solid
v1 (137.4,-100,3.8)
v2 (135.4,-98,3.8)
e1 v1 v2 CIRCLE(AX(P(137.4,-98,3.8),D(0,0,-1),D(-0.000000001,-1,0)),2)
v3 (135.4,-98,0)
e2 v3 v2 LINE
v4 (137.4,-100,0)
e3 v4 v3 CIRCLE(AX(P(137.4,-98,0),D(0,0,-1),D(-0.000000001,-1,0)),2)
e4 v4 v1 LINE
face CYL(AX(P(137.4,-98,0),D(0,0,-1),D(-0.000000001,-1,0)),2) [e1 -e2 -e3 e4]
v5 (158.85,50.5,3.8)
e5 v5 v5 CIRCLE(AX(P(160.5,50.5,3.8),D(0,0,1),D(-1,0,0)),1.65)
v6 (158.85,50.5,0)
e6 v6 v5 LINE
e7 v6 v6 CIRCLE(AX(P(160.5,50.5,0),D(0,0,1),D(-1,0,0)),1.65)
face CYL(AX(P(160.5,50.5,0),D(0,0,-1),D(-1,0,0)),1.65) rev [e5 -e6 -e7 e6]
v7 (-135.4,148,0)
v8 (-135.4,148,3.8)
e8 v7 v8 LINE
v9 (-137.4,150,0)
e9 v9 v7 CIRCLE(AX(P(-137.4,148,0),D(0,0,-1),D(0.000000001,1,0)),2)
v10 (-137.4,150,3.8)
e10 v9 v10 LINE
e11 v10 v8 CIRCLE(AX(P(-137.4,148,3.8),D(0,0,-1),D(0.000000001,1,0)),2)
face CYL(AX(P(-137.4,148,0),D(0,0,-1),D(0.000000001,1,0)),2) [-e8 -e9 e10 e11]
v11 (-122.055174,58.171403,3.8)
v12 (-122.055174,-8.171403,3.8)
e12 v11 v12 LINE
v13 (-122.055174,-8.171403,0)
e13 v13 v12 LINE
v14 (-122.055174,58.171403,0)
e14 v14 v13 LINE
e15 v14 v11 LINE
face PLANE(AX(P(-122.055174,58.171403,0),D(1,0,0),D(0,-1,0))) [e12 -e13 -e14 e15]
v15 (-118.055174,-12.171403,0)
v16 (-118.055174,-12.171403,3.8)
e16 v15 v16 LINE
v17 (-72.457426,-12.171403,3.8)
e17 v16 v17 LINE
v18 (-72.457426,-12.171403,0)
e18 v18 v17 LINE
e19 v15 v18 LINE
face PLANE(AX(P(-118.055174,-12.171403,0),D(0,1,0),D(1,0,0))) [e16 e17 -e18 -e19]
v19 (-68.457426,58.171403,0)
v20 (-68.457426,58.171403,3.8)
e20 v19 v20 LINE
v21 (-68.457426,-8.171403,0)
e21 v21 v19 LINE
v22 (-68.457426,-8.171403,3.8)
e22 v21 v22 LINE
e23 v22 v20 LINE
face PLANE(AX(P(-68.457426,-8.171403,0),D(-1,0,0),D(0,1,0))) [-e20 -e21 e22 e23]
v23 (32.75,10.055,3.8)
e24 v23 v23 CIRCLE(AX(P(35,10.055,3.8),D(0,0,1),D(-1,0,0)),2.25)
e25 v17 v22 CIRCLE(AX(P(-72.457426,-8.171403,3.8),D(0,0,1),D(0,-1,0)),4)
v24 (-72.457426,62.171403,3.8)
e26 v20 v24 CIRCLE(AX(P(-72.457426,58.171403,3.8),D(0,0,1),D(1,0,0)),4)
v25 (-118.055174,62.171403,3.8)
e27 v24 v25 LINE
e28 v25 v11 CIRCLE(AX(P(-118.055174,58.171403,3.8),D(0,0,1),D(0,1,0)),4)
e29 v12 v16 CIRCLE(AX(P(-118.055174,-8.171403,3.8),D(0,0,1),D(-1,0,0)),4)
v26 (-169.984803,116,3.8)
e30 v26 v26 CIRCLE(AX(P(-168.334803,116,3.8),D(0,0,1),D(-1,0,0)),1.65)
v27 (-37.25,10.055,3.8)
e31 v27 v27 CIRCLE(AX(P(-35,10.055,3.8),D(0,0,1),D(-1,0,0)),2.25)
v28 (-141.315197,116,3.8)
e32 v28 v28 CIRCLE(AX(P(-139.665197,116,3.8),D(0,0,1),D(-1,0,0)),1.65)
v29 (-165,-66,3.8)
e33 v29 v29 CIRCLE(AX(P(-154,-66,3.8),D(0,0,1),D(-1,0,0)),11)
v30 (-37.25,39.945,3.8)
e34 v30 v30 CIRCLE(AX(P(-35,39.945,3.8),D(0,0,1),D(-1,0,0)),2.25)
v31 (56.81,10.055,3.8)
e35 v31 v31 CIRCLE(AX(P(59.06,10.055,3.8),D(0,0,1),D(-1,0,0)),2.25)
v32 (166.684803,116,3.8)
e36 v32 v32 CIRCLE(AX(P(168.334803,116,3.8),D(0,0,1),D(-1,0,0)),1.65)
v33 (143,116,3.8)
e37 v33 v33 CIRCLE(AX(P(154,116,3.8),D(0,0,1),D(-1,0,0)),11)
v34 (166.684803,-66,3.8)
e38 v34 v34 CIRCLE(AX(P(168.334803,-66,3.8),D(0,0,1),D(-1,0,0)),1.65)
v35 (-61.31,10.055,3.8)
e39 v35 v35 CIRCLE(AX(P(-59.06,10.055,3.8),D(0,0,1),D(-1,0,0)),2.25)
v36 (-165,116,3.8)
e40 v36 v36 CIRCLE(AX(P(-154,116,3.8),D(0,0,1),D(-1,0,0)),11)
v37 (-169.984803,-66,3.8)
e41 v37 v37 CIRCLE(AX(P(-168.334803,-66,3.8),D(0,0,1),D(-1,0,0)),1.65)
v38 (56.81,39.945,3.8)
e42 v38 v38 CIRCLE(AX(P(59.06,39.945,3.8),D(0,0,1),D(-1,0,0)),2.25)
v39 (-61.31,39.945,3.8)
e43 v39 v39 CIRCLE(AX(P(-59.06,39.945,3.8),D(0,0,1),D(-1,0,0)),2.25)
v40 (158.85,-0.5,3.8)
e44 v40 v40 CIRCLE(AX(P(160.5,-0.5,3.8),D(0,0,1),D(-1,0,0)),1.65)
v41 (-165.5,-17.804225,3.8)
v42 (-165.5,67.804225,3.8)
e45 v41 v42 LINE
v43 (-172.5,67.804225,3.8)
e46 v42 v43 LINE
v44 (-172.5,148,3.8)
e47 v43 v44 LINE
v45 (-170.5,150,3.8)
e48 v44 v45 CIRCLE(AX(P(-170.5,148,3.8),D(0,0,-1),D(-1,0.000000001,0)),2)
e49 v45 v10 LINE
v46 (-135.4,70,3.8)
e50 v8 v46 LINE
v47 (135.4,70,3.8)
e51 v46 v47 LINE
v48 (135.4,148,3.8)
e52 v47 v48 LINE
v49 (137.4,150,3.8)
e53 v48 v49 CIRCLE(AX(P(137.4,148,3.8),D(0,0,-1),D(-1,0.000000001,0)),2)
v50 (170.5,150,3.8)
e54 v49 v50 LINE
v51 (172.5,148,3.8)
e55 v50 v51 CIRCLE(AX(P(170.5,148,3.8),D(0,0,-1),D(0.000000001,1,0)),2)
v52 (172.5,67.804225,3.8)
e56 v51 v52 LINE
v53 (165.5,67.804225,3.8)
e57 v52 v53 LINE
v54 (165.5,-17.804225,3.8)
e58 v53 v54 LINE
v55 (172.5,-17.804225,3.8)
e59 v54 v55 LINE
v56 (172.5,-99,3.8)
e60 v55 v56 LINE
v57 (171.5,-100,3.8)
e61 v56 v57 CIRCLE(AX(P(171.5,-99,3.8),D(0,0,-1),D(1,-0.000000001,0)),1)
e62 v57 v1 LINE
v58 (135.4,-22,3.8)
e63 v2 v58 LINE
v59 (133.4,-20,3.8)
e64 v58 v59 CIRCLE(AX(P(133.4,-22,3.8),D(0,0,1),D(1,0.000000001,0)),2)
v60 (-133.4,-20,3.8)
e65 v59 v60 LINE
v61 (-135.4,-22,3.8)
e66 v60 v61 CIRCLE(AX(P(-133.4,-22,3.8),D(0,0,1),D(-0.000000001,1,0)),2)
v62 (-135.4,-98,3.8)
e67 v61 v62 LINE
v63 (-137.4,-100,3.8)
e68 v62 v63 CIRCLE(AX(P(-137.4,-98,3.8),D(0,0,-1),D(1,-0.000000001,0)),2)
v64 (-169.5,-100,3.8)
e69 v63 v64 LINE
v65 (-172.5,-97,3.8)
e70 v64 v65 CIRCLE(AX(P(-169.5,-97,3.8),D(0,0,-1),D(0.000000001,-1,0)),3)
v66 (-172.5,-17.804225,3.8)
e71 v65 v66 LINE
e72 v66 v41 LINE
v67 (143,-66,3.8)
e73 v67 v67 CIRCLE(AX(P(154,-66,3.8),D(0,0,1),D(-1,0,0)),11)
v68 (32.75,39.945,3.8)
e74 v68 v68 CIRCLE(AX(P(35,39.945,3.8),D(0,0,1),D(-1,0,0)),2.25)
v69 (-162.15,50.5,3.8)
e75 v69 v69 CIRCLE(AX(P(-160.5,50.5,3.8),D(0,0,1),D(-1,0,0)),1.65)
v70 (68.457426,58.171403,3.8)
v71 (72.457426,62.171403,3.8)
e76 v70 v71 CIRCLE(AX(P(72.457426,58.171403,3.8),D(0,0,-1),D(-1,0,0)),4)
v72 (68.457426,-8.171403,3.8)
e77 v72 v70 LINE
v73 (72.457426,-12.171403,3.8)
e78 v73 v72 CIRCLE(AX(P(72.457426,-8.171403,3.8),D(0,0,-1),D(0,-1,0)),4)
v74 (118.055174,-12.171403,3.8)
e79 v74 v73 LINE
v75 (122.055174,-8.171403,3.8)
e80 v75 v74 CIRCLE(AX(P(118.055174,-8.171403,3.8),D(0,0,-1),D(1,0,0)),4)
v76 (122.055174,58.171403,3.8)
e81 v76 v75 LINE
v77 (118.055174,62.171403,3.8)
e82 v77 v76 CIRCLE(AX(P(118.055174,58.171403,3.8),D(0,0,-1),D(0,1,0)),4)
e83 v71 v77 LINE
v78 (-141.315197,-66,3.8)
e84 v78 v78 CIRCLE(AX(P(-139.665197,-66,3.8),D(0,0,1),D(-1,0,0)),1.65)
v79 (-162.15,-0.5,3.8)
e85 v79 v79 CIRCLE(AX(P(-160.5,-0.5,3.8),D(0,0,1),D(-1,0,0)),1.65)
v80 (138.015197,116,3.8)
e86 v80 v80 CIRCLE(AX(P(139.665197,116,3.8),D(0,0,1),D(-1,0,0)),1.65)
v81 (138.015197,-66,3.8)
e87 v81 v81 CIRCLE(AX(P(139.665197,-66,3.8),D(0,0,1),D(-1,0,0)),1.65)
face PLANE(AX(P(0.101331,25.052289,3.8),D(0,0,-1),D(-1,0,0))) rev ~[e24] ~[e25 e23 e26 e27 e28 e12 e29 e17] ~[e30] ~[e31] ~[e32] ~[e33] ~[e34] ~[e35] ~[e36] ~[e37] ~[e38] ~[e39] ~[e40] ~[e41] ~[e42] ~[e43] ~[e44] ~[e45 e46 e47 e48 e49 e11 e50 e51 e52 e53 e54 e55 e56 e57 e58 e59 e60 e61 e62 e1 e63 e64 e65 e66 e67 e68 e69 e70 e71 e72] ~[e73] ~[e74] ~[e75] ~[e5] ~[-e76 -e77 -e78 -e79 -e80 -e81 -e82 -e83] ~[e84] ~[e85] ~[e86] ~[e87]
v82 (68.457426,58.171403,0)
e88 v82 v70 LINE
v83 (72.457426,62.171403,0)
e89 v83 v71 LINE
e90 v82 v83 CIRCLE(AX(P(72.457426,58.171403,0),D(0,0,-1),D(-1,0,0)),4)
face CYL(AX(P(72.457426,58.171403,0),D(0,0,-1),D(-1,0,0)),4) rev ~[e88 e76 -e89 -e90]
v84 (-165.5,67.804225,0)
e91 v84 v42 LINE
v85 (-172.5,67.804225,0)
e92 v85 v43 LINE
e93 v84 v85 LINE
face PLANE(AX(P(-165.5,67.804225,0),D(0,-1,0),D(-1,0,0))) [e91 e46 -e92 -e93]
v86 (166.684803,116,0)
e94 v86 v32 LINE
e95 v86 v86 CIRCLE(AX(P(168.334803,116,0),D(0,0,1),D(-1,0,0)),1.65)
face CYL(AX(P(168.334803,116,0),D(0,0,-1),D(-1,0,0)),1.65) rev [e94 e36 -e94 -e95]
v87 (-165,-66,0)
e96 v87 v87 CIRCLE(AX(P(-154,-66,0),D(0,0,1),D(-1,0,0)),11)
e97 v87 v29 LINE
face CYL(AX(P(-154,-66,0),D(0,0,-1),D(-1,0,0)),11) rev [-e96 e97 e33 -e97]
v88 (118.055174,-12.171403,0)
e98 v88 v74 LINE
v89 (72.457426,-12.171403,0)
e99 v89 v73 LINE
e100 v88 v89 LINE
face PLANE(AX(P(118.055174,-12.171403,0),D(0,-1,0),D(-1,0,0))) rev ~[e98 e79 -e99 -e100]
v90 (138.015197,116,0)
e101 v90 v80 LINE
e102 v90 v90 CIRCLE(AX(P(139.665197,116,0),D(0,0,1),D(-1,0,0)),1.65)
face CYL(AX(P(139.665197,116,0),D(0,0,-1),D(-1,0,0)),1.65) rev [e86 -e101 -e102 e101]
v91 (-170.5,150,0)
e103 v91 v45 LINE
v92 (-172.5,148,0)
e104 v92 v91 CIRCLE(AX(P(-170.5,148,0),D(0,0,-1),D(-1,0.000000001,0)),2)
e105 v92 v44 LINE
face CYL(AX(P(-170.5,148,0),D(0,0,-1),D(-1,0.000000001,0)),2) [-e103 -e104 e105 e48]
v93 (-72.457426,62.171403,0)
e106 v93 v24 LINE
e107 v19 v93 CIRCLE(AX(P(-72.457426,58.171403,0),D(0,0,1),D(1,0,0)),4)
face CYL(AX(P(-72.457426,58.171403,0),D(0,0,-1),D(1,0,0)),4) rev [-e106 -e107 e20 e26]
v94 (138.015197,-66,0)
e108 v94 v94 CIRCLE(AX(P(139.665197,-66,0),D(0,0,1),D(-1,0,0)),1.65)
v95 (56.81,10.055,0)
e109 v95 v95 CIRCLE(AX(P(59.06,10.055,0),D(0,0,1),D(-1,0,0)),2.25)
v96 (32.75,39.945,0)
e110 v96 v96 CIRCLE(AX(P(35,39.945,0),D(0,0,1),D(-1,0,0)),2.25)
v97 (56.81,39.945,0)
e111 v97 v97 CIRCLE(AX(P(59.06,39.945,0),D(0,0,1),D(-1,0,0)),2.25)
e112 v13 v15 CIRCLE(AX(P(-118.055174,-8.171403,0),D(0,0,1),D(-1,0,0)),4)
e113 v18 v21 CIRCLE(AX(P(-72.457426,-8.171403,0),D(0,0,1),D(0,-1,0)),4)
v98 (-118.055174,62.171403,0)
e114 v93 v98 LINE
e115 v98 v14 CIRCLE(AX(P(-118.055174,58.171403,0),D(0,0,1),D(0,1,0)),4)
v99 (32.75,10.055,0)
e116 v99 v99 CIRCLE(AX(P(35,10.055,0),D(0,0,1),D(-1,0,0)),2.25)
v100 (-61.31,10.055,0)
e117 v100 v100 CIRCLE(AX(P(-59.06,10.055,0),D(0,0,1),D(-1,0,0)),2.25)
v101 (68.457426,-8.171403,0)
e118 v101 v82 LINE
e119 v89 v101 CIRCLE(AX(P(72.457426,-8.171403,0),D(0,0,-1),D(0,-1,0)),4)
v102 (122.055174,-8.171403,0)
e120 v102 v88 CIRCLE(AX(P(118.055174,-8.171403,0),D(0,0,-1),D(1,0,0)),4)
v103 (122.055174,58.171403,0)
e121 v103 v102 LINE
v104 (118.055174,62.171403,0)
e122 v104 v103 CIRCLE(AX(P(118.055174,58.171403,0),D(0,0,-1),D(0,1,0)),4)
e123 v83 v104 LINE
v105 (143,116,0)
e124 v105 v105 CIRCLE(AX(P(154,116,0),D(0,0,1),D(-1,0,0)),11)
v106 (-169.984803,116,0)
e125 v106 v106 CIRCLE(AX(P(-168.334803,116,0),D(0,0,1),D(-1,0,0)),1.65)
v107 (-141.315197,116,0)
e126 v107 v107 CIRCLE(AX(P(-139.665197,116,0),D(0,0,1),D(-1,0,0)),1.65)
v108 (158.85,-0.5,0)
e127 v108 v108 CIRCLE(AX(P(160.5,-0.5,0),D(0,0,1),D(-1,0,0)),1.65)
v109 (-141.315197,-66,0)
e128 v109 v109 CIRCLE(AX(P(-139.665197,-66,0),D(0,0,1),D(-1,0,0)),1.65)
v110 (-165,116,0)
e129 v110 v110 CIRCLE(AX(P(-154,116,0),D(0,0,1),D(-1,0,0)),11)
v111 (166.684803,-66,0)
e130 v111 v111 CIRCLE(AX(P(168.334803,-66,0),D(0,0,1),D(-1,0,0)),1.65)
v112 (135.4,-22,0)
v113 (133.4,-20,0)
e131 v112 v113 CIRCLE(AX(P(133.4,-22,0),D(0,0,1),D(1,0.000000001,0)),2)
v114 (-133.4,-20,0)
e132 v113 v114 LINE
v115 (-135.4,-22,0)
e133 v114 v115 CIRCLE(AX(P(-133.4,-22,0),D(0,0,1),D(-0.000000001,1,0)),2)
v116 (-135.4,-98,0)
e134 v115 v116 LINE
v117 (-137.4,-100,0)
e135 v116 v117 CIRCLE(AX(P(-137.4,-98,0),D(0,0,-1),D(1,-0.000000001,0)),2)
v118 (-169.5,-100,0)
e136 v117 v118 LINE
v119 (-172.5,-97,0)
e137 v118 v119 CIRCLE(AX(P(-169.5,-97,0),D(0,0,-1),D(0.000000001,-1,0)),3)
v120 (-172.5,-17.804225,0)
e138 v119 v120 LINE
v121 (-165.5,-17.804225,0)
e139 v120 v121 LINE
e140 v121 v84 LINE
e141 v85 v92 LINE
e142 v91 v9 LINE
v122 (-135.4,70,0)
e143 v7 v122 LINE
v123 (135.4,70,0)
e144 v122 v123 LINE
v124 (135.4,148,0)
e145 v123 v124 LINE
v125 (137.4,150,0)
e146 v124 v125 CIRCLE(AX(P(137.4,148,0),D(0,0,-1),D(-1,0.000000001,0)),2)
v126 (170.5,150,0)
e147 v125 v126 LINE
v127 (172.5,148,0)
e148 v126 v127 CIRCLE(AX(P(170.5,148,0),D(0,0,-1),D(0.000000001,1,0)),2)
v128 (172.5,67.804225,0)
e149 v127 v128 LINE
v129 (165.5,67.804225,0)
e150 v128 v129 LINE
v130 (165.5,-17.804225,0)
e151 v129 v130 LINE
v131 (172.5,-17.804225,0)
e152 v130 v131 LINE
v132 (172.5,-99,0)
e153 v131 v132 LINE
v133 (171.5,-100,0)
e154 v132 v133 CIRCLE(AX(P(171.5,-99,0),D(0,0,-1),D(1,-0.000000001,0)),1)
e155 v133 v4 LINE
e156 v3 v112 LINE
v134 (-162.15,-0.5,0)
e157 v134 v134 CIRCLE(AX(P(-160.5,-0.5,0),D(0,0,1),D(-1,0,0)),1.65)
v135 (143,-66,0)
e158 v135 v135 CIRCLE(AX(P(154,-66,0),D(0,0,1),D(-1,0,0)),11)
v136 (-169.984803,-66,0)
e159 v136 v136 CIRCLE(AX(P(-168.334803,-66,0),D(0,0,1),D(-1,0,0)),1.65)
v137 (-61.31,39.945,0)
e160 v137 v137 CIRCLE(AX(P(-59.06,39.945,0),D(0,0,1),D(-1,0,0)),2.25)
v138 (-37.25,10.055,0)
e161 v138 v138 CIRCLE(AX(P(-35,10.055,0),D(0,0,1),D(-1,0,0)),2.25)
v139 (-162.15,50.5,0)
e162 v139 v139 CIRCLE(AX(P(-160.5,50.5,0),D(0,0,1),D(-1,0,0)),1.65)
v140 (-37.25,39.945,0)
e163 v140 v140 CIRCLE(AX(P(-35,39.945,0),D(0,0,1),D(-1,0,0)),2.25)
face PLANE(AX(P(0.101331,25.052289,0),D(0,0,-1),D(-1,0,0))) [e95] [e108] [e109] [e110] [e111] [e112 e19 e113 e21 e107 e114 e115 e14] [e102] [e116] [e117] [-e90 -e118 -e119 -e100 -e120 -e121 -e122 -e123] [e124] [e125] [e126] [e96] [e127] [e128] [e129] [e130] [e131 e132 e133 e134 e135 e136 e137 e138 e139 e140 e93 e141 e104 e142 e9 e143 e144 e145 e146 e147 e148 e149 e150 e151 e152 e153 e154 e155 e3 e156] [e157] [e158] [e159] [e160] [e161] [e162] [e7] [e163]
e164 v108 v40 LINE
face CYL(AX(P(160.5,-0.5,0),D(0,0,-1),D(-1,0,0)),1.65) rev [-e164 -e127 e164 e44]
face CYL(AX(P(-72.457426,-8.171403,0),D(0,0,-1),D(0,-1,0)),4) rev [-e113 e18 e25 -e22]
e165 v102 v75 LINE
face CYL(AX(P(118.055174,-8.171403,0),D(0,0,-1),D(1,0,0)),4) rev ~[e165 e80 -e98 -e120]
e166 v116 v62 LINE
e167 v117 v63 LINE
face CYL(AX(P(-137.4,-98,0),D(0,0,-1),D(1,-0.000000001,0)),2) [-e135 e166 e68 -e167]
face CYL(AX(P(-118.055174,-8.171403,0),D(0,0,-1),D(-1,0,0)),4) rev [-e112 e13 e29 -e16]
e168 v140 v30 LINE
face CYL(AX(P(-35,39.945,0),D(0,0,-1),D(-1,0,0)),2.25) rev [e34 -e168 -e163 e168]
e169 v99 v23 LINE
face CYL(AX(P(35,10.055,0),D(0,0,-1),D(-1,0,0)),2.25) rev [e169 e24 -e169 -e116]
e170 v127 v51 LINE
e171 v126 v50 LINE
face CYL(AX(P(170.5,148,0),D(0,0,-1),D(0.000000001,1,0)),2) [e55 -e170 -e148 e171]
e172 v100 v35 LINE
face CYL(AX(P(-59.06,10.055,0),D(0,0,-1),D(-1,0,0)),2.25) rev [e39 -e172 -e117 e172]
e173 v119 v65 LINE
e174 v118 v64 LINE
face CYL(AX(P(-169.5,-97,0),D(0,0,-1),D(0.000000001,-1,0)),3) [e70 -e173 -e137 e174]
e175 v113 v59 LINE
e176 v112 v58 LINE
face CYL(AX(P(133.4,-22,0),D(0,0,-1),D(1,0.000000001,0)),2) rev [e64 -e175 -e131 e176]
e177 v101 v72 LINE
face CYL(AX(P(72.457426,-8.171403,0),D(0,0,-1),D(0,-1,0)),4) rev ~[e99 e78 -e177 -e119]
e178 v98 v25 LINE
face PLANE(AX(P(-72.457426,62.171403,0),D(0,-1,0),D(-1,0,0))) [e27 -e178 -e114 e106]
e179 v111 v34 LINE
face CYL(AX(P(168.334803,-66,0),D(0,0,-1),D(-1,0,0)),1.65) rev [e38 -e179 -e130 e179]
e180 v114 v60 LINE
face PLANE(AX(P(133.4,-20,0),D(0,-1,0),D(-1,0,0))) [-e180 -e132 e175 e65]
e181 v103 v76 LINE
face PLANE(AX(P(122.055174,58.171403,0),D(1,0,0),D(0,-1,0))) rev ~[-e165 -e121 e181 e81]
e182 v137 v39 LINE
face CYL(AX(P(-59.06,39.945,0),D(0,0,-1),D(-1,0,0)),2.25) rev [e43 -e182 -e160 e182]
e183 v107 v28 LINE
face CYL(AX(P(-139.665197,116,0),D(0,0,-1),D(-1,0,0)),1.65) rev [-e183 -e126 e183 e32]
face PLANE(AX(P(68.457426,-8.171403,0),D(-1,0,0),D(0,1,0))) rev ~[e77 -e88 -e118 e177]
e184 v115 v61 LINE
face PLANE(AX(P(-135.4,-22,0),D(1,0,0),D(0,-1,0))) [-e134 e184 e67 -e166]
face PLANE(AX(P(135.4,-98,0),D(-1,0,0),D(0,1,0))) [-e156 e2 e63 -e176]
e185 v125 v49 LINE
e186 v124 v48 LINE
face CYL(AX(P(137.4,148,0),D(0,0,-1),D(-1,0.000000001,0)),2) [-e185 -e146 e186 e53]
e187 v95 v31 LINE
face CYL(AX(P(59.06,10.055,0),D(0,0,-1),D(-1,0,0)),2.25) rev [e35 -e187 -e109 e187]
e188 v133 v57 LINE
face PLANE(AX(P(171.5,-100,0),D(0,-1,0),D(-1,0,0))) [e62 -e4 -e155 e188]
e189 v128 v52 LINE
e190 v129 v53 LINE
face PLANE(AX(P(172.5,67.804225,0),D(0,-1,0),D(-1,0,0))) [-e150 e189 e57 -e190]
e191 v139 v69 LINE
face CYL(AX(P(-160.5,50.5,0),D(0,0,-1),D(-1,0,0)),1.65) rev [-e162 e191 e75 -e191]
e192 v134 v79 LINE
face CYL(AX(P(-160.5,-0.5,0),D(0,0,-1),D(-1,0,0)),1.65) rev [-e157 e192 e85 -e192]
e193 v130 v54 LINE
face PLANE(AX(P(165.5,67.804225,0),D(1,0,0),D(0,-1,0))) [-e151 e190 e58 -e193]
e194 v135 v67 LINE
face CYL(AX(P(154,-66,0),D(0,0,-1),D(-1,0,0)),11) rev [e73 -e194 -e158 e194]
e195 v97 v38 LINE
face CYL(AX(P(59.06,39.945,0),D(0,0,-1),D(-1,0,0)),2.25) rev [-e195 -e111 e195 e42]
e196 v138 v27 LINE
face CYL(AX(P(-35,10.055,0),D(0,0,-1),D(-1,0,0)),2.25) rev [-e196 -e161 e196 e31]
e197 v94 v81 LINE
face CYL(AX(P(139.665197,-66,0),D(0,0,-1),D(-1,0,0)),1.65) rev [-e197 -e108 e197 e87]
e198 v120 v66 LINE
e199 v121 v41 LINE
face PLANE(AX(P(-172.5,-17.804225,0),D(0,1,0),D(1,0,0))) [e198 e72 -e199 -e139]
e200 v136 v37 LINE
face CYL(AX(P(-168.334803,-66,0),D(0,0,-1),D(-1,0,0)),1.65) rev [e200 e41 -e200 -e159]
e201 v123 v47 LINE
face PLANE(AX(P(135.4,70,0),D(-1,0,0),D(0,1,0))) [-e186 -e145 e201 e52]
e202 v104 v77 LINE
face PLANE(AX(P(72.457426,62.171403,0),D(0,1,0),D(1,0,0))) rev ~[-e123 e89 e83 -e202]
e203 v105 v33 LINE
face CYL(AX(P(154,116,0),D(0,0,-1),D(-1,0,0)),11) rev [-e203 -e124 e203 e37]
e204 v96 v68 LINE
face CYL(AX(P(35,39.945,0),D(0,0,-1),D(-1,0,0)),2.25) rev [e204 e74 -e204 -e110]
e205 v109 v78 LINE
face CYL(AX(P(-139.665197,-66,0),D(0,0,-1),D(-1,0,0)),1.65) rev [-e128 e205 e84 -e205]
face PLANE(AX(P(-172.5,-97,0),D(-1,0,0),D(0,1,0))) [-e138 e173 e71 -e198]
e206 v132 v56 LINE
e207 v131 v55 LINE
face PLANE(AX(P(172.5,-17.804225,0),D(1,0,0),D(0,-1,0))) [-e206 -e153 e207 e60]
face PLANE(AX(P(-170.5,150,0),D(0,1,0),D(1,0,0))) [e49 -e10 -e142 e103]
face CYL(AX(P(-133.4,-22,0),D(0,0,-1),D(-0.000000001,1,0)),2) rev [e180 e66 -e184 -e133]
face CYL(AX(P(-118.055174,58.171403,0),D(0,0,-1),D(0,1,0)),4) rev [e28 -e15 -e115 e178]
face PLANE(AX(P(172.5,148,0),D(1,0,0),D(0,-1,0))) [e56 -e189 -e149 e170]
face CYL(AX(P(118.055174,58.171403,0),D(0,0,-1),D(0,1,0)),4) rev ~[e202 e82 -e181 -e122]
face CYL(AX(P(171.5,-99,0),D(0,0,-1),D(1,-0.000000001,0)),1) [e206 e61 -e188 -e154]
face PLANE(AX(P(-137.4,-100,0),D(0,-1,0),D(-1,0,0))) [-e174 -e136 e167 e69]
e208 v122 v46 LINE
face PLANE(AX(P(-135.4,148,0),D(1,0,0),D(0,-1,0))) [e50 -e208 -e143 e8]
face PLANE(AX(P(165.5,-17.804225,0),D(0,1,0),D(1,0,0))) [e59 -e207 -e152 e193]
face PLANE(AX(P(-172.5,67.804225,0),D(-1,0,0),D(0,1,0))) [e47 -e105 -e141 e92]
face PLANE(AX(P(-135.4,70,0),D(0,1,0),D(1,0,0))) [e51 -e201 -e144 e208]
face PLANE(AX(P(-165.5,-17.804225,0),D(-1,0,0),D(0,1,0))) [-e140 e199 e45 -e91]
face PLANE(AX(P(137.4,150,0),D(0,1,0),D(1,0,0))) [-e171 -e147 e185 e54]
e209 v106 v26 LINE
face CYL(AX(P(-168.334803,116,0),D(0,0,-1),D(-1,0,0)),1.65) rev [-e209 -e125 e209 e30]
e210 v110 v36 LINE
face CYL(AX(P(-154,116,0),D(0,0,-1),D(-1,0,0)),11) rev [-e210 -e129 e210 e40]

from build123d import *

# Parameters (mm, degrees)
SKETCH2_R           = 1.65
SKETCH2_R_2         = 11
SKETCH2_R_3         = 2.25
BOSS_EXTRUDE1_DEPTH = 3.8


with BuildPart() as part:
    # Sketch2 → Boss-Extrude1 (new body)
    with BuildSketch(Plane.XY):
        with BuildLine():
            Line((-170.5, 150), (-137.4, 150))
            ThreePointArc((-137.4, 150), (-135.985786438, 149.414213562), (-135.4, 148))
            Line((-135.4, 148), (-135.4, 70))
            Line((-135.4, 70), (135.4, 70))
            Line((135.4, 70), (135.4, 148))
            ThreePointArc((135.4, 148), (135.985786438, 149.414213562), (137.4, 150))
            Line((137.4, 150), (170.5, 150))
            ThreePointArc((170.5, 150), (171.914213562, 149.414213562), (172.5, 148))
            Line((172.5, 148), (172.5, 67.8042249))
            Line((172.5, 67.8042249), (165.5, 67.8042249))
            Line((165.5, 67.8042249), (165.5, -17.8042249))
            Line((165.5, -17.8042249), (172.5, -17.8042249))
            Line((172.5, -17.8042249), (172.5, -99))
            ThreePointArc((172.5, -99), (172.207106781, -99.707106781), (171.5, -100))
            Line((171.5, -100), (137.4, -100))
            ThreePointArc((137.4, -100), (135.985786438, -99.414213562), (135.4, -98))
            Line((135.4, -98), (135.4, -22))
            ThreePointArc((135.4, -22), (134.814213562, -20.585786438), (133.4, -20))
            Line((133.4, -20), (-133.4, -20))
            ThreePointArc((-133.4, -20), (-134.814213562, -20.585786438), (-135.4, -22))
            Line((-135.4, -22), (-135.4, -98))
            ThreePointArc((-135.4, -98), (-135.985786438, -99.414213562), (-137.4, -100))
            Line((-137.4, -100), (-169.5, -100))
            ThreePointArc((-169.5, -100), (-171.621320344, -99.121320344), (-172.5, -97))
            Line((-172.5, -97), (-172.5, -17.8042249))
            Line((-172.5, -17.8042249), (-165.5, -17.8042249))
            Line((-165.5, -17.8042249), (-165.5, 67.8042249))
            Line((-165.5, 67.8042249), (-172.5, 67.8042249))
            Line((-172.5, 67.8042249), (-172.5, 148))
            ThreePointArc((-172.5, 148), (-171.914213562, 149.414213562), (-170.5, 150))
        make_face()
        with Locations(Location((-168.334802826, 116, 0), (0, 0, 180))):
            Circle(SKETCH2_R, mode=Mode.SUBTRACT)
        with Locations(Location((-139.665197174, 116, 0), (0, 0, 180))):
            Circle(SKETCH2_R, mode=Mode.SUBTRACT)
        with Locations(Location((168.334802826, 116, 0), (0, 0, 180))):
            Circle(SKETCH2_R, mode=Mode.SUBTRACT)
        with Locations(Location((139.665197174, 116, 0), (0, 0, 180))):
            Circle(SKETCH2_R, mode=Mode.SUBTRACT)
        with Locations(Location((154, 116, 0), (0, 0, 180))):
            Circle(SKETCH2_R_2, mode=Mode.SUBTRACT)
        with Locations(Location((-154, 116, 0), (0, 0, 180))):
            Circle(SKETCH2_R_2, mode=Mode.SUBTRACT)
        with Locations(Location((160.5, -0.5, 0), (0, 0, 180))):
            Circle(SKETCH2_R, mode=Mode.SUBTRACT)
        with Locations(Location((160.5, 50.5, 0), (0, 0, 180))):
            Circle(SKETCH2_R, mode=Mode.SUBTRACT)
        with Locations(Location((-160.5, -0.5, 0), (0, 0, 180))):
            Circle(SKETCH2_R, mode=Mode.SUBTRACT)
        with Locations(Location((-160.5, 50.5, 0), (0, 0, 180))):
            Circle(SKETCH2_R, mode=Mode.SUBTRACT)
        with Locations(Location((-35, 10.055, 0), (0, 0, 180))):
            Circle(SKETCH2_R_3, mode=Mode.SUBTRACT)
        with Locations(Location((-35, 39.945, 0), (0, 0, 180))):
            Circle(SKETCH2_R_3, mode=Mode.SUBTRACT)
        with Locations(Location((-59.06, 39.945, 0), (0, 0, 180))):
            Circle(SKETCH2_R_3, mode=Mode.SUBTRACT)
        with Locations(Location((-59.06, 10.055, 0), (0, 0, 180))):
            Circle(SKETCH2_R_3, mode=Mode.SUBTRACT)
        with Locations(Location((59.06, 10.055, 0), (0, 0, 180))):
            Circle(SKETCH2_R_3, mode=Mode.SUBTRACT)
        with Locations(Location((35, 10.055, 0), (0, 0, 180))):
            Circle(SKETCH2_R_3, mode=Mode.SUBTRACT)
        with Locations(Location((35, 39.945, 0), (0, 0, 180))):
            Circle(SKETCH2_R_3, mode=Mode.SUBTRACT)
        with Locations(Location((59.06, 39.945, 0), (0, 0, 180))):
            Circle(SKETCH2_R_3, mode=Mode.SUBTRACT)
        with Locations(Location((168.334802826, -66, 0), (0, 0, 180))):
            Circle(SKETCH2_R, mode=Mode.SUBTRACT)
        with Locations(Location((139.665197174, -66, 0), (0, 0, 180))):
            Circle(SKETCH2_R, mode=Mode.SUBTRACT)
        with Locations(Location((154, -66, 0), (0, 0, 180))):
            Circle(SKETCH2_R_2, mode=Mode.SUBTRACT)
        with Locations(Location((-154, -66, 0), (0, 0, 180))):
            Circle(SKETCH2_R_2, mode=Mode.SUBTRACT)
        with Locations(Location((-139.665197174, -66, 0), (0, 0, 180))):
            Circle(SKETCH2_R, mode=Mode.SUBTRACT)
        with Locations(Location((-168.334802826, -66, 0), (0, 0, 180))):
            Circle(SKETCH2_R, mode=Mode.SUBTRACT)
        with BuildLine():
            Line((-72.45742566, 62.171403079), (-118.05517368, 62.171403079))
            ThreePointArc((-118.05517368, 62.171403079), (-120.883600805, 60.999830204), (-122.05517368, 58.171403079))
            Line((-122.05517368, 58.171403079), (-122.05517368, -8.171403079))
            ThreePointArc((-122.05517368, -8.171403079), (-120.883600805, -10.999830204), (-118.05517368, -12.171403079))
            Line((-118.05517368, -12.171403079), (-72.45742566, -12.171403079))
            ThreePointArc((-72.45742566, -12.171403079), (-69.628998535, -10.999830204), (-68.45742566, -8.171403079))
            Line((-68.45742566, -8.171403079), (-68.45742566, 58.171403079))
            ThreePointArc((-68.45742566, 58.171403079), (-69.628998535, 60.999830204), (-72.45742566, 62.171403079))
        make_face(mode=Mode.SUBTRACT)
        with BuildLine():
            Line((72.45742566, 62.171403079), (118.05517368, 62.171403079))
            ThreePointArc((118.05517368, 62.171403079), (120.883600805, 60.999830204), (122.05517368, 58.171403079))
            Line((122.05517368, 58.171403079), (122.05517368, -8.171403079))
            ThreePointArc((122.05517368, -8.171403079), (120.883600805, -10.999830204), (118.05517368, -12.171403079))
            Line((118.05517368, -12.171403079), (72.45742566, -12.171403079))
            ThreePointArc((72.45742566, -12.171403079), (69.628998535, -10.999830204), (68.45742566, -8.171403079))
            Line((68.45742566, -8.171403079), (68.45742566, 58.171403079))
            ThreePointArc((68.45742566, 58.171403079), (69.628998535, 60.999830204), (72.45742566, 62.171403079))
        make_face(mode=Mode.SUBTRACT)
    extrude(amount=BOSS_EXTRUDE1_DEPTH)


solid = part.part
